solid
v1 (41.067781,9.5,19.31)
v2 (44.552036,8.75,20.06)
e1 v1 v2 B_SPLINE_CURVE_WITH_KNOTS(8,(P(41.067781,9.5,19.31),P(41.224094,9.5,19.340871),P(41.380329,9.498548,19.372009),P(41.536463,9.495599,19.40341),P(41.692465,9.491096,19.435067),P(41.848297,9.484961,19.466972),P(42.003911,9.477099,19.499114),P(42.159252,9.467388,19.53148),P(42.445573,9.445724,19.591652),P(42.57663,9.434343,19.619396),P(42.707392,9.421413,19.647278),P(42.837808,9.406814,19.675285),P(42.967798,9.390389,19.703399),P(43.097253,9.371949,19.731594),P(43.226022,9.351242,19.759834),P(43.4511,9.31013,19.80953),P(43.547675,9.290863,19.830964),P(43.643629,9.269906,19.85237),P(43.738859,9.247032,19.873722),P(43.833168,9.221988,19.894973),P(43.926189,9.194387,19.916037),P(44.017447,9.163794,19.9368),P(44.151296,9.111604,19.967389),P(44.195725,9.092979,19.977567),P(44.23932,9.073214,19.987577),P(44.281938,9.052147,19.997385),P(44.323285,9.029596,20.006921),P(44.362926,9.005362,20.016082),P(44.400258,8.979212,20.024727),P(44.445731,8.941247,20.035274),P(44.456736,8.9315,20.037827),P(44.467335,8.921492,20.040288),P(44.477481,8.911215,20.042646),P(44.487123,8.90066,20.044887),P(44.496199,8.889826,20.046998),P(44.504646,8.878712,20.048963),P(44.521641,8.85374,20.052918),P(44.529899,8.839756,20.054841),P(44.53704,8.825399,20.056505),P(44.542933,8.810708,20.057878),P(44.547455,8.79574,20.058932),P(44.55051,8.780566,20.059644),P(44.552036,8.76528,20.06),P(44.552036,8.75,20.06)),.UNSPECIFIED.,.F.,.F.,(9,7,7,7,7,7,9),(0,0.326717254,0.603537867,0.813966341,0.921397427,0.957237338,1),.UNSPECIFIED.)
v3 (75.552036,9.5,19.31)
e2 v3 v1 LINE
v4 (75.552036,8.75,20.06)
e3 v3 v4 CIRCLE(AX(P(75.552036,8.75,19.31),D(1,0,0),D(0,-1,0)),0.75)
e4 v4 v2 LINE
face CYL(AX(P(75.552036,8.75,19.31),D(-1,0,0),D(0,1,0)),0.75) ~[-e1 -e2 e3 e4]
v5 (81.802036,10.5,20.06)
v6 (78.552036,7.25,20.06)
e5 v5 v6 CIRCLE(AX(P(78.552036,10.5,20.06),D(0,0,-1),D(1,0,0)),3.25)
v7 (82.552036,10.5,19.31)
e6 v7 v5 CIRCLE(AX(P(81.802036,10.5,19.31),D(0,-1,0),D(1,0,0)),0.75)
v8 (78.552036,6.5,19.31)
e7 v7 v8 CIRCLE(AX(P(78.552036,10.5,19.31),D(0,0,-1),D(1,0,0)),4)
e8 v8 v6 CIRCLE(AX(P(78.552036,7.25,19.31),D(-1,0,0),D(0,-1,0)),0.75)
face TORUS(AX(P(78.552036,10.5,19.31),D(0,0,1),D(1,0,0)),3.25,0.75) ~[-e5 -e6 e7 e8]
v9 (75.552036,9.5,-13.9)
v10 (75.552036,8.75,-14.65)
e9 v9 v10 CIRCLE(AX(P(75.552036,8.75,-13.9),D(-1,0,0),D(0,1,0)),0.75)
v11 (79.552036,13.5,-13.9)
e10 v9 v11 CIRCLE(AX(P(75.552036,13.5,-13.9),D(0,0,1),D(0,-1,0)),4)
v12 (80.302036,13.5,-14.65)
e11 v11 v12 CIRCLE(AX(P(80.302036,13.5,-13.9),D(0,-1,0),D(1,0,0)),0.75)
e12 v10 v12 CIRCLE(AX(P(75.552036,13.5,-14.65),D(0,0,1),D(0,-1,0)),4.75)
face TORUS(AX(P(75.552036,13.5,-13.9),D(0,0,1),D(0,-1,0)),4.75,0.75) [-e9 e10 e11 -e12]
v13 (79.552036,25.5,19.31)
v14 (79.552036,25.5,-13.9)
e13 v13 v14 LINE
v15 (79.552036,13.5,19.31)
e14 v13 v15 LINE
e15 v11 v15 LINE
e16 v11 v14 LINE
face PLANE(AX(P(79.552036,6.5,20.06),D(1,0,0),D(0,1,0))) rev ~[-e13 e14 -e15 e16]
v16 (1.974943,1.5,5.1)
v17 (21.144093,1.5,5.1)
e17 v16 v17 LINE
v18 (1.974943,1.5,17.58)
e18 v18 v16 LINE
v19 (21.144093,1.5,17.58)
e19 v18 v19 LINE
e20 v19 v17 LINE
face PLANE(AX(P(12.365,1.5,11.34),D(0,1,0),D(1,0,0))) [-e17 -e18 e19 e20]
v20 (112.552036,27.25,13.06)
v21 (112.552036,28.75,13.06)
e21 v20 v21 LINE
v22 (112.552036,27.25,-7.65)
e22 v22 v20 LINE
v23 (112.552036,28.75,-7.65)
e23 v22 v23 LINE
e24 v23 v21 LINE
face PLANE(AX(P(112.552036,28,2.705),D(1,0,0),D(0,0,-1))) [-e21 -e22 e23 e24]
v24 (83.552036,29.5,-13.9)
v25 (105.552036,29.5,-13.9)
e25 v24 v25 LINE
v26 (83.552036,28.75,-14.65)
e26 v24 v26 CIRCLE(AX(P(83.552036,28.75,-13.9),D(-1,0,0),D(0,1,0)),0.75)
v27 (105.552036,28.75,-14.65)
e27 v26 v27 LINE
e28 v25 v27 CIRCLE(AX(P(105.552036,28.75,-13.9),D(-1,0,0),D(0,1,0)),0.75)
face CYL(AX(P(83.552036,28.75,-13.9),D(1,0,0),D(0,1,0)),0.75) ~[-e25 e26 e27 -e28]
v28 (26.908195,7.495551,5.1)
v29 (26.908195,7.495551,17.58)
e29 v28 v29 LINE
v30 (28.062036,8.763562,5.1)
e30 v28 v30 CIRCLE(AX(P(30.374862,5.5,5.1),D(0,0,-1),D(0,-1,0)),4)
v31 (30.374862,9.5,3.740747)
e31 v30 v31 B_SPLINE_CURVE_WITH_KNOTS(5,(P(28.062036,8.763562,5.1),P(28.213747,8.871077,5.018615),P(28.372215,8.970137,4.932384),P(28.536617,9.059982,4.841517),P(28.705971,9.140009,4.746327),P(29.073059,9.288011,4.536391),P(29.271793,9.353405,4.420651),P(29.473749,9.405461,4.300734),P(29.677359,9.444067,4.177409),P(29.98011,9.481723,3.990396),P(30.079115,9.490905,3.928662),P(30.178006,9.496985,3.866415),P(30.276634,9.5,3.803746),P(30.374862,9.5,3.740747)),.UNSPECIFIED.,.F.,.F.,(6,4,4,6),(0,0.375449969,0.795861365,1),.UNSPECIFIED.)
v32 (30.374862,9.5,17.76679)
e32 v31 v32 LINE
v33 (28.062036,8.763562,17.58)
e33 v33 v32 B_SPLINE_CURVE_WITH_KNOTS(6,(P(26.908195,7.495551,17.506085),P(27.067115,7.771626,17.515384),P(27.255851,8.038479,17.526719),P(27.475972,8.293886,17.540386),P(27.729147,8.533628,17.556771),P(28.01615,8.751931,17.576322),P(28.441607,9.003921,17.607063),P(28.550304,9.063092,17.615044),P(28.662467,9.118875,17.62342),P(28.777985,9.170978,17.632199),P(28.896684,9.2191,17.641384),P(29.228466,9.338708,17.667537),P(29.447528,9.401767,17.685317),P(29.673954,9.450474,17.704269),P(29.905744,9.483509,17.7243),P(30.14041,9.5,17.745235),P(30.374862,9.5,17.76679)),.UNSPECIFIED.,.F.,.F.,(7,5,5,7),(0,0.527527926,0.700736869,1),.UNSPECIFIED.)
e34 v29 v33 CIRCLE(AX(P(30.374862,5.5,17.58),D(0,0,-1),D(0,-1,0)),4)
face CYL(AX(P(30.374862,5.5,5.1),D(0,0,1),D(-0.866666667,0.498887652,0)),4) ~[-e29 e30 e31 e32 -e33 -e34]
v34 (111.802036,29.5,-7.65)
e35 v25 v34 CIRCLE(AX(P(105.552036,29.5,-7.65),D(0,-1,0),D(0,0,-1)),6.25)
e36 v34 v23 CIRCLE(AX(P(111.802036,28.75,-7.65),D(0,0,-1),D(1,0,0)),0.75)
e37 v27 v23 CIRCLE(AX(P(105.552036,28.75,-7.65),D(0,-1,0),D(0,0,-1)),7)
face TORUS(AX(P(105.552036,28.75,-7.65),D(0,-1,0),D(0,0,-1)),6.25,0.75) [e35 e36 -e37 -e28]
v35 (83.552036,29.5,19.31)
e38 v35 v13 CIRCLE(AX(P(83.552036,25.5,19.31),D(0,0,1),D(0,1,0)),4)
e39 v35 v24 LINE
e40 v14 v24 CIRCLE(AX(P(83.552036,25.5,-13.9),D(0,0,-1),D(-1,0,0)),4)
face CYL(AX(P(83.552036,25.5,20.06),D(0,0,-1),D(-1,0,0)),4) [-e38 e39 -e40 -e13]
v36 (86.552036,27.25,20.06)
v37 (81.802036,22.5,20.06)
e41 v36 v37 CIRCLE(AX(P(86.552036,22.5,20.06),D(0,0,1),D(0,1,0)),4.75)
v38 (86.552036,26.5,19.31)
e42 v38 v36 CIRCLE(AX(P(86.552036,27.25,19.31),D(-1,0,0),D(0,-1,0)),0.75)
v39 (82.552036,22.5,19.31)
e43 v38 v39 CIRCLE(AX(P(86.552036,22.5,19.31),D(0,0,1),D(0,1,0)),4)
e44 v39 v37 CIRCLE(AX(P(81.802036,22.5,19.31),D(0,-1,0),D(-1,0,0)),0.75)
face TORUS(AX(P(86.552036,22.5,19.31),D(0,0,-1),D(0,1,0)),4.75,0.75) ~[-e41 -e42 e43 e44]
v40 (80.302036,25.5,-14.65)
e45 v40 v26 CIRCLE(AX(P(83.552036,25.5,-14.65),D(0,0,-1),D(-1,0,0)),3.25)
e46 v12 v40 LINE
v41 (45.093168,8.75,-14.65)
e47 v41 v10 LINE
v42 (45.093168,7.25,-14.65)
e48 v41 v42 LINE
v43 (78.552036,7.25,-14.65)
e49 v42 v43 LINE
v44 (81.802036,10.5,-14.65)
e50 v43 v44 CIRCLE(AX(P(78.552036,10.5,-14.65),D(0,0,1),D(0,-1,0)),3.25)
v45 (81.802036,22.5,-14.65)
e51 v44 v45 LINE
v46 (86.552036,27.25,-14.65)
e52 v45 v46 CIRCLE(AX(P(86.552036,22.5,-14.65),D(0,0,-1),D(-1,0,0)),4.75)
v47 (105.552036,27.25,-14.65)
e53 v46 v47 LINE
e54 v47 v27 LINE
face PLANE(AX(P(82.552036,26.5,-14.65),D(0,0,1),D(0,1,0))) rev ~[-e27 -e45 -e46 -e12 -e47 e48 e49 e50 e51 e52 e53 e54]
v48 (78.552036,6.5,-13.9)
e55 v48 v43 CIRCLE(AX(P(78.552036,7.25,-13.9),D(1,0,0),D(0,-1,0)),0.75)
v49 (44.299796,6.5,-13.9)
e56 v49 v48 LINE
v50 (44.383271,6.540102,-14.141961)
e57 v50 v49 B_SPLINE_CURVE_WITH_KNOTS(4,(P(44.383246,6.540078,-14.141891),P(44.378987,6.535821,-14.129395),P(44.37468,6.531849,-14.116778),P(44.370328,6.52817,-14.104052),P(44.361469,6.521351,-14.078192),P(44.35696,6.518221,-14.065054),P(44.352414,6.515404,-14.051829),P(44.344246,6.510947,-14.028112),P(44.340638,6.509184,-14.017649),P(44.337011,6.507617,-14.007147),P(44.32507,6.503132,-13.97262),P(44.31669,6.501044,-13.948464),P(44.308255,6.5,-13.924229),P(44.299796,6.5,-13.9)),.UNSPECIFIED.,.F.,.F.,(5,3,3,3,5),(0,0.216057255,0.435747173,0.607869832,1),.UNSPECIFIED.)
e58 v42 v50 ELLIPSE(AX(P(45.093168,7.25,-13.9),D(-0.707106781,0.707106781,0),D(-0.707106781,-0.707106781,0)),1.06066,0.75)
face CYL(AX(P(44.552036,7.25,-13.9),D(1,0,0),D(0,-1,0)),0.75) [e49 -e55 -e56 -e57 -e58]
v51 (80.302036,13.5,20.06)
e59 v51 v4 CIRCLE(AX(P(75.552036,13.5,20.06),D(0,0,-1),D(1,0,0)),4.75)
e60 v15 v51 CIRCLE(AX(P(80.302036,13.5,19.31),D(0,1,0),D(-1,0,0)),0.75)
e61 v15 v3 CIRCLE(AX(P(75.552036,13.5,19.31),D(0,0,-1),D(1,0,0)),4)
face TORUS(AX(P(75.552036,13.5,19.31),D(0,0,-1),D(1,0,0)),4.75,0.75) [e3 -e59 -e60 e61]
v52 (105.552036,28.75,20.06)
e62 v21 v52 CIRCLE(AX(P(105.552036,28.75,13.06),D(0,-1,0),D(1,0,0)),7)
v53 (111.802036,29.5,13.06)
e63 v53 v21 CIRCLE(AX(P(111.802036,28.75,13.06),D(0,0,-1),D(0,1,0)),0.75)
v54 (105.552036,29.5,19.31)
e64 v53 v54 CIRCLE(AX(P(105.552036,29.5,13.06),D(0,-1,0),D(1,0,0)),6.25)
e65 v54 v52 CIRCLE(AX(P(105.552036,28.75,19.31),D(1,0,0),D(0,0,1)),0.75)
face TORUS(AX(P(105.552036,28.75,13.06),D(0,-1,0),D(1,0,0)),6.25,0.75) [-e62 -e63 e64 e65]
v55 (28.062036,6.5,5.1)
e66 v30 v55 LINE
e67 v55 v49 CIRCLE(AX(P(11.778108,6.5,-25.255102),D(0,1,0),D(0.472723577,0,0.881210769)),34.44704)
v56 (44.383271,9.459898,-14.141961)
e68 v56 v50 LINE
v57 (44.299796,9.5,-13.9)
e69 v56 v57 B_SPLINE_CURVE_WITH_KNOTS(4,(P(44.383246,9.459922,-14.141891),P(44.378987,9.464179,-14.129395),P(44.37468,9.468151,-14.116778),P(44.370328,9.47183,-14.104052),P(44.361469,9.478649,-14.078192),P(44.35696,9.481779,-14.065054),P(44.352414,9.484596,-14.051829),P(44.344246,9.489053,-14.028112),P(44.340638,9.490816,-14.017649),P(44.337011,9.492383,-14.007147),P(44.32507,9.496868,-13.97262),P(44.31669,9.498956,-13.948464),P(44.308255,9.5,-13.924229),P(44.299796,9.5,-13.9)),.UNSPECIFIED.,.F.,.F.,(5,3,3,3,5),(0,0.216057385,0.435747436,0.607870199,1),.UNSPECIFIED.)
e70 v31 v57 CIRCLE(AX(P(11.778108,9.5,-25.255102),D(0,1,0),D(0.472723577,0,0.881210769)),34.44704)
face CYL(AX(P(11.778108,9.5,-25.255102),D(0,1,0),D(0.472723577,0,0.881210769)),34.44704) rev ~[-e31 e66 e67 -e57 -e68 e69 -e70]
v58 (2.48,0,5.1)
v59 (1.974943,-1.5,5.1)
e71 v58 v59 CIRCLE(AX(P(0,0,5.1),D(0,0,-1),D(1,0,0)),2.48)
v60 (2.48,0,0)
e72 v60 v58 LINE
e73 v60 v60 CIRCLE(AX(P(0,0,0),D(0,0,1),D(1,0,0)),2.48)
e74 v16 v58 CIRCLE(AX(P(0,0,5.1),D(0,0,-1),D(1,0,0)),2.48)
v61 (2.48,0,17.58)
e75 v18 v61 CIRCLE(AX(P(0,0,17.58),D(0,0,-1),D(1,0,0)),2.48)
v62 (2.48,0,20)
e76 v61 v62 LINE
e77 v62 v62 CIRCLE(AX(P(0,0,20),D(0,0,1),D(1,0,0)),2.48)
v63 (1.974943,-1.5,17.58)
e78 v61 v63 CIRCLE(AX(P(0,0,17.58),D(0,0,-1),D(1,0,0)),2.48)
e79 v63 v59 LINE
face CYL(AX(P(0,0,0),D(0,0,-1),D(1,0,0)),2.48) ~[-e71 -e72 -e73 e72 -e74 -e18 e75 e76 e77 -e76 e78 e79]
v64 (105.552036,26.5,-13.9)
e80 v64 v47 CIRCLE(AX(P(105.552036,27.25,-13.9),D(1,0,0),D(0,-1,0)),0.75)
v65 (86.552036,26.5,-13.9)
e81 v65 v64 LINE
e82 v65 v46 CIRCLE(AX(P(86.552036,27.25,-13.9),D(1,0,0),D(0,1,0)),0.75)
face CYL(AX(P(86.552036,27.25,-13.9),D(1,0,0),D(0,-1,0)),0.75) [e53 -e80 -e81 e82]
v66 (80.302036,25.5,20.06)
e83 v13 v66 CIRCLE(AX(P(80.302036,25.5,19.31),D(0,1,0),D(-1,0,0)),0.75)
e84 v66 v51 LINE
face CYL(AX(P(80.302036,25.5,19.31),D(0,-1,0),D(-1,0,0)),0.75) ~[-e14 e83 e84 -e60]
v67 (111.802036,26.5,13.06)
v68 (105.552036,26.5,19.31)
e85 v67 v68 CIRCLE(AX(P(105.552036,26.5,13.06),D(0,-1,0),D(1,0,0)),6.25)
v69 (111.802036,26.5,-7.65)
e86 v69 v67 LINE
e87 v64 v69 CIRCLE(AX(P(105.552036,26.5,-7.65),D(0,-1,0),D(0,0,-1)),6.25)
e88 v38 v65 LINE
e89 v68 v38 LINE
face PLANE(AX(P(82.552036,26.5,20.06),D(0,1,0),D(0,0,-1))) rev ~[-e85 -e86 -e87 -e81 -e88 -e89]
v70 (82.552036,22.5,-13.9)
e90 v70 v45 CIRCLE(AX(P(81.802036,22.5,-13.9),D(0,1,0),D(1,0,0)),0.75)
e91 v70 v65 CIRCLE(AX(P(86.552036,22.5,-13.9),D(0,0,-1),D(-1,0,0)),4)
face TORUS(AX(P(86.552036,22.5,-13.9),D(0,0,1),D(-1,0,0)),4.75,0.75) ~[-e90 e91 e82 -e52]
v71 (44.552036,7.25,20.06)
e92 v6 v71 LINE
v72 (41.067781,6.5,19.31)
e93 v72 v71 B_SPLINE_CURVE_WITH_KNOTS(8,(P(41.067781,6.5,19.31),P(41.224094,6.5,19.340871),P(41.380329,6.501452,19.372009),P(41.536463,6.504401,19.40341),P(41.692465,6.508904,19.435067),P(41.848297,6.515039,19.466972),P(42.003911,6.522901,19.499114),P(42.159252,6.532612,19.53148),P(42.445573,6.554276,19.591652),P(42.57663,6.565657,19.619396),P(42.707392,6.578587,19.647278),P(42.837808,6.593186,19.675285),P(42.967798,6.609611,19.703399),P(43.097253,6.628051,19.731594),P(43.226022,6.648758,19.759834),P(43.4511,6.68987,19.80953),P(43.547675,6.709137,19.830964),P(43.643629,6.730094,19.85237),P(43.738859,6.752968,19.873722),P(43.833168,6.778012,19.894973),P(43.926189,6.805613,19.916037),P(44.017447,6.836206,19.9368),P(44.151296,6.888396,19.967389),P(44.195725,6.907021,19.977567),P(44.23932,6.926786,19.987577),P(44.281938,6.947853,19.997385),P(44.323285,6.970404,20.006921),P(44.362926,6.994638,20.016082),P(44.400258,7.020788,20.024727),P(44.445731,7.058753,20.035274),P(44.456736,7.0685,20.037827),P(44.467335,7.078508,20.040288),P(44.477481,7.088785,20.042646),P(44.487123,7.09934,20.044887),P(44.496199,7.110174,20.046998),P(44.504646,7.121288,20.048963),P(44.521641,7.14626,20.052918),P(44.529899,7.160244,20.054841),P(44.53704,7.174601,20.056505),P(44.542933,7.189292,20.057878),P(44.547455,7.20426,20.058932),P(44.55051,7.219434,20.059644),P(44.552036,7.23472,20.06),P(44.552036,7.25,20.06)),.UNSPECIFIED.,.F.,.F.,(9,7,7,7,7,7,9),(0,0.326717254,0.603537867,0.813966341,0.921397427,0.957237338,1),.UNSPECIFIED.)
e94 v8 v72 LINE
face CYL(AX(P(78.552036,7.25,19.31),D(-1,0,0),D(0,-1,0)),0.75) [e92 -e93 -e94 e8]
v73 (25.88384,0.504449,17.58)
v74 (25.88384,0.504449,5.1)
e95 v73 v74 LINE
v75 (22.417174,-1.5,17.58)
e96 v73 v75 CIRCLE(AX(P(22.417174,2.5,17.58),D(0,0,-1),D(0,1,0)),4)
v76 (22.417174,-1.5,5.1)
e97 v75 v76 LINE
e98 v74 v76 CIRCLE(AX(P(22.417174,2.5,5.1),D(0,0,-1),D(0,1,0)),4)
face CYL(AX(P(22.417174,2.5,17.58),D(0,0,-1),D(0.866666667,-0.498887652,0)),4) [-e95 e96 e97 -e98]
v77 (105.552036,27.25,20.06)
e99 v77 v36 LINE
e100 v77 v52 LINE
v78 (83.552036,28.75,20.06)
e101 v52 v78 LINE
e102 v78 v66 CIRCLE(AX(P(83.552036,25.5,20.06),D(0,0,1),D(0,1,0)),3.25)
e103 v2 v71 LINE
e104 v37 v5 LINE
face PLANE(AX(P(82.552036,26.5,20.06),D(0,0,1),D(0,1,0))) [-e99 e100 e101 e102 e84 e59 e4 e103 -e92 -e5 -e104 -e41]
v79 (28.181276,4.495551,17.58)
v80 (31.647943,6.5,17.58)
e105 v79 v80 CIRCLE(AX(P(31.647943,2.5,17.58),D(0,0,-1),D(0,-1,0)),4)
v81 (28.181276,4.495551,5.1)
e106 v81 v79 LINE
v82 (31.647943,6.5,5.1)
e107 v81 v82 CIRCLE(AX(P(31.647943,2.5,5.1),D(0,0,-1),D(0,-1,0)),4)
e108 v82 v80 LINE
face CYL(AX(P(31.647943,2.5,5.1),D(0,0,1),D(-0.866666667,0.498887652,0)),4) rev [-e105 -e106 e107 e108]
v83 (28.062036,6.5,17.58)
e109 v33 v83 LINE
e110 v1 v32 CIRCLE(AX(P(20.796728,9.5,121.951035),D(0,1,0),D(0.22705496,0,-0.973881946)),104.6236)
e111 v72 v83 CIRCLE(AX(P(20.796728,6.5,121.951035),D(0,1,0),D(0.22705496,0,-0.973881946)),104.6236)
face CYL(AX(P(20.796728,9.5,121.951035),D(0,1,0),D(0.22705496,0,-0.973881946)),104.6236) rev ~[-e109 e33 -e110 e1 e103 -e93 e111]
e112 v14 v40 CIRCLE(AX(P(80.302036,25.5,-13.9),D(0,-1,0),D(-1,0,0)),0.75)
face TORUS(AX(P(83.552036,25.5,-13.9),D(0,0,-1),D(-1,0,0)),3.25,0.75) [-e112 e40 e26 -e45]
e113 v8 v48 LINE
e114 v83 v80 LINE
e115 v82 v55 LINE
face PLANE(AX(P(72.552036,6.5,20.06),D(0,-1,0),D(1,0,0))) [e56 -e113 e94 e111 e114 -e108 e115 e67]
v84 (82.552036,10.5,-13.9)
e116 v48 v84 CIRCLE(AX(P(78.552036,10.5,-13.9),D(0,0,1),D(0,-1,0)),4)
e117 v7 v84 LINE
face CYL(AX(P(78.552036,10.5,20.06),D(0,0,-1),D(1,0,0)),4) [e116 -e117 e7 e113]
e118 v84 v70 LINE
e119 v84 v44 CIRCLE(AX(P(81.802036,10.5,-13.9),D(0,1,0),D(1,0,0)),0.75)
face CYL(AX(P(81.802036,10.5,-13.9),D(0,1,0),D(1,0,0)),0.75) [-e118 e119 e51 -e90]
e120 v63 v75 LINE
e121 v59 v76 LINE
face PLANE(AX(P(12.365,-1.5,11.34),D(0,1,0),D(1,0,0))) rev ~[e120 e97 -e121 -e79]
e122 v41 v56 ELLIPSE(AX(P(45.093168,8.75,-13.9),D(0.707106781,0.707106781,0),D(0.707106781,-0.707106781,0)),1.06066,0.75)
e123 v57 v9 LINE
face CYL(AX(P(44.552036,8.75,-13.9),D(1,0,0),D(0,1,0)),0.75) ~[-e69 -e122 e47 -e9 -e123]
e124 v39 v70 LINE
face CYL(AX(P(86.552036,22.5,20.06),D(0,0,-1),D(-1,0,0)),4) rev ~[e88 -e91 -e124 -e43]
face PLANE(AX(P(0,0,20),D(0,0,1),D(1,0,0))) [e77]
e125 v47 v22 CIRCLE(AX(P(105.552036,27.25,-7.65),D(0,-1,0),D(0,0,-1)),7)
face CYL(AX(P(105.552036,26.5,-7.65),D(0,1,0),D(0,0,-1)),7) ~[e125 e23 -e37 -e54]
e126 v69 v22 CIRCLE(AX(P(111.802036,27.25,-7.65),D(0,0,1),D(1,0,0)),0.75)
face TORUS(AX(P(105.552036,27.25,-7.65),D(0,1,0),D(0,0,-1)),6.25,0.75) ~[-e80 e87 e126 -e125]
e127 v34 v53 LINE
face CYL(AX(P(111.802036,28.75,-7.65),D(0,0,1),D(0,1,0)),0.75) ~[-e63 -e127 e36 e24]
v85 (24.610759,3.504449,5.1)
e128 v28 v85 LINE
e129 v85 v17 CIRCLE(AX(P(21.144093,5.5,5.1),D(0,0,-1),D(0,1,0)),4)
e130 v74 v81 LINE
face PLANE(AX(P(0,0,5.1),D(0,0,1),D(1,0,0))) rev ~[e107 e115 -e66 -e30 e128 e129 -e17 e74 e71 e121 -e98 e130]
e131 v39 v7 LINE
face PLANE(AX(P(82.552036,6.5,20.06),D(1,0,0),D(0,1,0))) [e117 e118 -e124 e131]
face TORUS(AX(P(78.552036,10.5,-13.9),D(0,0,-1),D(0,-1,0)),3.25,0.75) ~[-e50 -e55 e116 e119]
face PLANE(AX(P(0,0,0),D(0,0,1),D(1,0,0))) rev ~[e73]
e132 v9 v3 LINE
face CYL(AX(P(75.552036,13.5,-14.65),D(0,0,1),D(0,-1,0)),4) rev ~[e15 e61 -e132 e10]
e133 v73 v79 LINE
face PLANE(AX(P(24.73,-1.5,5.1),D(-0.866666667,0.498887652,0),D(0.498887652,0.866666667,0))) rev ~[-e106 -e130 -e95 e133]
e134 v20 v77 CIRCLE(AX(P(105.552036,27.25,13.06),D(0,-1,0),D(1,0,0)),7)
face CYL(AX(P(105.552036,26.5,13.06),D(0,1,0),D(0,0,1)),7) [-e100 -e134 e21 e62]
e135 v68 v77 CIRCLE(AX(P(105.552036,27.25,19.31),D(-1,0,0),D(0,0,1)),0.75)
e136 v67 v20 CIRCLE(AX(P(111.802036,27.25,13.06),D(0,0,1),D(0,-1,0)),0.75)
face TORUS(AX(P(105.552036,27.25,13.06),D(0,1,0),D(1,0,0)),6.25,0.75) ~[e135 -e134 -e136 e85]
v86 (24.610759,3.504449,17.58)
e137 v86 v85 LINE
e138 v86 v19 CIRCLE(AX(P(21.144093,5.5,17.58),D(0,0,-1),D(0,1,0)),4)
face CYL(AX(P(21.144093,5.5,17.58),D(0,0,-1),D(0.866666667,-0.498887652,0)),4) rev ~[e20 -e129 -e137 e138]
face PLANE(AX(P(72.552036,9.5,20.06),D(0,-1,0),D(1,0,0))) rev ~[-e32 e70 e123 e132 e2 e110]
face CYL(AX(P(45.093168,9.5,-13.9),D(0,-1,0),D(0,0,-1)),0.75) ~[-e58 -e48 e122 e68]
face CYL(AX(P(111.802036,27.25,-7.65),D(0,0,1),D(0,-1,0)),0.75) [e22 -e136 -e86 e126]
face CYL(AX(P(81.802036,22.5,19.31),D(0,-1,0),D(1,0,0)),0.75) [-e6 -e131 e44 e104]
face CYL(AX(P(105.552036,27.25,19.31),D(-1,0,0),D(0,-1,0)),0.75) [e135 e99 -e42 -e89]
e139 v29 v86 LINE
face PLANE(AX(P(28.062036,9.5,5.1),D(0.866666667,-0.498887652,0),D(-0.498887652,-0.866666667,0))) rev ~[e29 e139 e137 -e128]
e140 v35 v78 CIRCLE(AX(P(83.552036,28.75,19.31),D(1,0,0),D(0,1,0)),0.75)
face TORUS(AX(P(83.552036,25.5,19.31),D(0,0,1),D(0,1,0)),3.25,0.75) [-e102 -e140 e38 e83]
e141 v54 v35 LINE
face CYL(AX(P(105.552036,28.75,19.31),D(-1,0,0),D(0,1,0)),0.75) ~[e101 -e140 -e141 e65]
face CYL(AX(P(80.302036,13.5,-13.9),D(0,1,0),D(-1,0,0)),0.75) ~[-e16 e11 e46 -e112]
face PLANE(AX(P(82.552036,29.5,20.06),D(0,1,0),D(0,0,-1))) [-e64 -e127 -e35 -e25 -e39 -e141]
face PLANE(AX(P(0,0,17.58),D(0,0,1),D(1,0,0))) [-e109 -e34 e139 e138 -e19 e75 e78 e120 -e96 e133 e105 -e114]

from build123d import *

# Parameters (mm, degrees)
SKETCH2_R            = 2.48
BOSS_EXTRUDE1_DEPTH  = 20
SKETCH3_W            = 24.73
SKETCH3_H            = 12.48
BOSS_EXTRUDE3_DEPTH  = 1.5
BOSS_EXTRUDE7_DEPTH  = 12.48
BOSS_EXTRUDE9_DEPTH  = 3
SKETCH9_W            = 10
SKETCH9_H            = 3
BOSS_EXTRUDE10_DEPTH = 34.71
SKETCH10_W           = 3
SKETCH10_H           = 23
BOSS_EXTRUDE11_DEPTH = 34.71
SKETCH11_W           = 34.71
SKETCH11_H           = 3
BOSS_EXTRUDE12_DEPTH = 30
FILLET1_R            = 4
FILLET3_R            = 7
FILLET4_R            = 0.75


with BuildPart() as part:
    # Sketch2 → Boss-Extrude1 (new body)
    with BuildSketch(Plane.XY):
        Circle(SKETCH2_R)
    extrude(amount=BOSS_EXTRUDE1_DEPTH)

    # Sketch3 → Boss-Extrude3 (add, symmetric)
    with BuildSketch(Plane(origin=(0, 0, 0), x_dir=(1, 0, 0), z_dir=(0, 1, 0))):
        with Locations((12.365, -11.34)):
            Rectangle(SKETCH3_W, SKETCH3_H)
    extrude(amount=BOSS_EXTRUDE3_DEPTH, both=True)

    # Sketch7 → Boss-Extrude7 (add)
    with BuildSketch(Plane.XY.offset(5.1)):
        Polygon((21.73, -1.5), (24.73, -1.5), (31.062035578, 9.5), (28.062035578, 9.5), align=None)
    extrude(amount=BOSS_EXTRUDE7_DEPTH)

    # Sketch8 → Boss-Extrude9 (add)
    with BuildSketch(Plane(origin=(0, 9.5, 0), x_dir=(1, 0, 0), z_dir=(0, 1, 0))):
        with BuildLine():
            Line((72.552035578, -20.06), (44.552035578, -20.06))
            ThreePointArc((44.552035578, -20.06), (36.356523667, -18.490944118), (28.062035578, -17.58))
            Line((28.062035578, -17.58), (28.062035578, -5.1))
            ThreePointArc((28.062035578, -5.1), (38.220194009, 3.177633796), (44.552035578, 14.65))
            Line((44.552035578, 14.65), (72.552035578, 14.65))
            Line((72.552035578, 14.65), (72.552035578, -20.06))
        make_face()
    extrude(amount=-BOSS_EXTRUDE9_DEPTH)

    # Sketch9 → Boss-Extrude10 (add)
    with BuildSketch(Plane.XY.offset(20.06)):
        with Locations((77.552035578, 8)):
            Rectangle(SKETCH9_W, SKETCH9_H)
    extrude(amount=-BOSS_EXTRUDE10_DEPTH)

    # Sketch10 → Boss-Extrude11 (add)
    with BuildSketch(Plane.XY.offset(20.06)):
        with Locations((81.052035578, 18)):
            Rectangle(SKETCH10_W, SKETCH10_H)
    extrude(amount=-BOSS_EXTRUDE11_DEPTH)

    # Sketch11 → Boss-Extrude12 (add)
    with BuildSketch(Plane(origin=(82.552035578, 0, 0), x_dir=(0, 0, -1), z_dir=(1, 0, 0))):
        with Locations((-2.705, 28)):
            Rectangle(SKETCH11_W, SKETCH11_H)
    extrude(amount=BOSS_EXTRUDE12_DEPTH)

    # Fillet1
    fillet1_edges = [part.edges().sort_by_distance(p)[0] for p in [
        (24.73, -1.5, 11.34),
        (82.552035578, 26.5, 2.705),
        (23.456918794, 1.5, 11.34),
        (28.062035578, 9.5, 11.34),
        (29.335116784, 6.5, 11.34),
        (82.552035578, 6.5, 2.705),
        (79.552035578, 9.5, 2.705),
        (79.552035578, 29.5, 2.705),
    ]]
    fillet(fillet1_edges, radius=FILLET1_R)

    # Fillet3
    fillet3_edges = [part.edges().sort_by_distance(p)[0] for p in [
        (112.552035578, 28, 20.06),
        (112.552035578, 28, -14.65),
    ]]
    fillet(fillet3_edges, radius=FILLET3_R)

    # Fillet4
    fillet4_edges = [part.edges().sort_by_distance(p)[0] for p in [
        (60.052035578, 9.5, -14.65),
        (61.552035578, 6.5, -14.65),
        (82.552035578, 16.5, 20.06),
        (79.552035578, 19.5, 20.06),
        (80.723608453, 28.328427125, 20.06),
        (81.380462702, 7.671572875, 20.06),
        (82.552035578, 16.5, -14.65),
        (79.552035578, 19.5, -14.65),
        (80.723608453, 28.328427125, -14.65),
        (81.380462702, 7.671572875, -14.65),
        (78.380462702, 10.671572875, -14.65),
        (78.380462702, 10.671572875, 20.06),
        (83.723608453, 25.328427125, -14.65),
        (83.723608453, 25.328427125, 20.06),
        (112.552035578, 26.5, 2.705),
        (112.552035578, 29.5, 2.705),
        (96.052035578, 26.5, 20.06),
        (96.052035578, 26.5, -14.65),
        (110.501783046, 26.5, -12.599747468),
        (110.501783046, 26.5, 18.009747468),
        (94.552035578, 29.5, 20.06),
        (94.552035578, 29.5, -14.65),
        (110.501783046, 29.5, -12.599747468),
        (110.501783046, 29.5, 18.009747468),
        (60.052035578, 9.5, 20.06),
        (44.552035578, 8, -14.65),
        (61.552035578, 6.5, 20.06),
    ]]
    fillet(fillet4_edges, radius=FILLET4_R)


with BuildPart() as body_2:
    # Mirror5: mirrored copy
    add(part.part.mirror(Plane(origin=(119.85106591, 0, 0), x_dir=(0, 0, 1), z_dir=(1, 0, 0))))


with BuildPart() as body_2_2:
    # Mirror6: mirrored copy
    add(body_2.part.mirror(Plane(origin=(119.85106591, 0, 0), x_dir=(0, 0, 1), z_dir=(1, 0, 0))))


solid = body_2_2.part
